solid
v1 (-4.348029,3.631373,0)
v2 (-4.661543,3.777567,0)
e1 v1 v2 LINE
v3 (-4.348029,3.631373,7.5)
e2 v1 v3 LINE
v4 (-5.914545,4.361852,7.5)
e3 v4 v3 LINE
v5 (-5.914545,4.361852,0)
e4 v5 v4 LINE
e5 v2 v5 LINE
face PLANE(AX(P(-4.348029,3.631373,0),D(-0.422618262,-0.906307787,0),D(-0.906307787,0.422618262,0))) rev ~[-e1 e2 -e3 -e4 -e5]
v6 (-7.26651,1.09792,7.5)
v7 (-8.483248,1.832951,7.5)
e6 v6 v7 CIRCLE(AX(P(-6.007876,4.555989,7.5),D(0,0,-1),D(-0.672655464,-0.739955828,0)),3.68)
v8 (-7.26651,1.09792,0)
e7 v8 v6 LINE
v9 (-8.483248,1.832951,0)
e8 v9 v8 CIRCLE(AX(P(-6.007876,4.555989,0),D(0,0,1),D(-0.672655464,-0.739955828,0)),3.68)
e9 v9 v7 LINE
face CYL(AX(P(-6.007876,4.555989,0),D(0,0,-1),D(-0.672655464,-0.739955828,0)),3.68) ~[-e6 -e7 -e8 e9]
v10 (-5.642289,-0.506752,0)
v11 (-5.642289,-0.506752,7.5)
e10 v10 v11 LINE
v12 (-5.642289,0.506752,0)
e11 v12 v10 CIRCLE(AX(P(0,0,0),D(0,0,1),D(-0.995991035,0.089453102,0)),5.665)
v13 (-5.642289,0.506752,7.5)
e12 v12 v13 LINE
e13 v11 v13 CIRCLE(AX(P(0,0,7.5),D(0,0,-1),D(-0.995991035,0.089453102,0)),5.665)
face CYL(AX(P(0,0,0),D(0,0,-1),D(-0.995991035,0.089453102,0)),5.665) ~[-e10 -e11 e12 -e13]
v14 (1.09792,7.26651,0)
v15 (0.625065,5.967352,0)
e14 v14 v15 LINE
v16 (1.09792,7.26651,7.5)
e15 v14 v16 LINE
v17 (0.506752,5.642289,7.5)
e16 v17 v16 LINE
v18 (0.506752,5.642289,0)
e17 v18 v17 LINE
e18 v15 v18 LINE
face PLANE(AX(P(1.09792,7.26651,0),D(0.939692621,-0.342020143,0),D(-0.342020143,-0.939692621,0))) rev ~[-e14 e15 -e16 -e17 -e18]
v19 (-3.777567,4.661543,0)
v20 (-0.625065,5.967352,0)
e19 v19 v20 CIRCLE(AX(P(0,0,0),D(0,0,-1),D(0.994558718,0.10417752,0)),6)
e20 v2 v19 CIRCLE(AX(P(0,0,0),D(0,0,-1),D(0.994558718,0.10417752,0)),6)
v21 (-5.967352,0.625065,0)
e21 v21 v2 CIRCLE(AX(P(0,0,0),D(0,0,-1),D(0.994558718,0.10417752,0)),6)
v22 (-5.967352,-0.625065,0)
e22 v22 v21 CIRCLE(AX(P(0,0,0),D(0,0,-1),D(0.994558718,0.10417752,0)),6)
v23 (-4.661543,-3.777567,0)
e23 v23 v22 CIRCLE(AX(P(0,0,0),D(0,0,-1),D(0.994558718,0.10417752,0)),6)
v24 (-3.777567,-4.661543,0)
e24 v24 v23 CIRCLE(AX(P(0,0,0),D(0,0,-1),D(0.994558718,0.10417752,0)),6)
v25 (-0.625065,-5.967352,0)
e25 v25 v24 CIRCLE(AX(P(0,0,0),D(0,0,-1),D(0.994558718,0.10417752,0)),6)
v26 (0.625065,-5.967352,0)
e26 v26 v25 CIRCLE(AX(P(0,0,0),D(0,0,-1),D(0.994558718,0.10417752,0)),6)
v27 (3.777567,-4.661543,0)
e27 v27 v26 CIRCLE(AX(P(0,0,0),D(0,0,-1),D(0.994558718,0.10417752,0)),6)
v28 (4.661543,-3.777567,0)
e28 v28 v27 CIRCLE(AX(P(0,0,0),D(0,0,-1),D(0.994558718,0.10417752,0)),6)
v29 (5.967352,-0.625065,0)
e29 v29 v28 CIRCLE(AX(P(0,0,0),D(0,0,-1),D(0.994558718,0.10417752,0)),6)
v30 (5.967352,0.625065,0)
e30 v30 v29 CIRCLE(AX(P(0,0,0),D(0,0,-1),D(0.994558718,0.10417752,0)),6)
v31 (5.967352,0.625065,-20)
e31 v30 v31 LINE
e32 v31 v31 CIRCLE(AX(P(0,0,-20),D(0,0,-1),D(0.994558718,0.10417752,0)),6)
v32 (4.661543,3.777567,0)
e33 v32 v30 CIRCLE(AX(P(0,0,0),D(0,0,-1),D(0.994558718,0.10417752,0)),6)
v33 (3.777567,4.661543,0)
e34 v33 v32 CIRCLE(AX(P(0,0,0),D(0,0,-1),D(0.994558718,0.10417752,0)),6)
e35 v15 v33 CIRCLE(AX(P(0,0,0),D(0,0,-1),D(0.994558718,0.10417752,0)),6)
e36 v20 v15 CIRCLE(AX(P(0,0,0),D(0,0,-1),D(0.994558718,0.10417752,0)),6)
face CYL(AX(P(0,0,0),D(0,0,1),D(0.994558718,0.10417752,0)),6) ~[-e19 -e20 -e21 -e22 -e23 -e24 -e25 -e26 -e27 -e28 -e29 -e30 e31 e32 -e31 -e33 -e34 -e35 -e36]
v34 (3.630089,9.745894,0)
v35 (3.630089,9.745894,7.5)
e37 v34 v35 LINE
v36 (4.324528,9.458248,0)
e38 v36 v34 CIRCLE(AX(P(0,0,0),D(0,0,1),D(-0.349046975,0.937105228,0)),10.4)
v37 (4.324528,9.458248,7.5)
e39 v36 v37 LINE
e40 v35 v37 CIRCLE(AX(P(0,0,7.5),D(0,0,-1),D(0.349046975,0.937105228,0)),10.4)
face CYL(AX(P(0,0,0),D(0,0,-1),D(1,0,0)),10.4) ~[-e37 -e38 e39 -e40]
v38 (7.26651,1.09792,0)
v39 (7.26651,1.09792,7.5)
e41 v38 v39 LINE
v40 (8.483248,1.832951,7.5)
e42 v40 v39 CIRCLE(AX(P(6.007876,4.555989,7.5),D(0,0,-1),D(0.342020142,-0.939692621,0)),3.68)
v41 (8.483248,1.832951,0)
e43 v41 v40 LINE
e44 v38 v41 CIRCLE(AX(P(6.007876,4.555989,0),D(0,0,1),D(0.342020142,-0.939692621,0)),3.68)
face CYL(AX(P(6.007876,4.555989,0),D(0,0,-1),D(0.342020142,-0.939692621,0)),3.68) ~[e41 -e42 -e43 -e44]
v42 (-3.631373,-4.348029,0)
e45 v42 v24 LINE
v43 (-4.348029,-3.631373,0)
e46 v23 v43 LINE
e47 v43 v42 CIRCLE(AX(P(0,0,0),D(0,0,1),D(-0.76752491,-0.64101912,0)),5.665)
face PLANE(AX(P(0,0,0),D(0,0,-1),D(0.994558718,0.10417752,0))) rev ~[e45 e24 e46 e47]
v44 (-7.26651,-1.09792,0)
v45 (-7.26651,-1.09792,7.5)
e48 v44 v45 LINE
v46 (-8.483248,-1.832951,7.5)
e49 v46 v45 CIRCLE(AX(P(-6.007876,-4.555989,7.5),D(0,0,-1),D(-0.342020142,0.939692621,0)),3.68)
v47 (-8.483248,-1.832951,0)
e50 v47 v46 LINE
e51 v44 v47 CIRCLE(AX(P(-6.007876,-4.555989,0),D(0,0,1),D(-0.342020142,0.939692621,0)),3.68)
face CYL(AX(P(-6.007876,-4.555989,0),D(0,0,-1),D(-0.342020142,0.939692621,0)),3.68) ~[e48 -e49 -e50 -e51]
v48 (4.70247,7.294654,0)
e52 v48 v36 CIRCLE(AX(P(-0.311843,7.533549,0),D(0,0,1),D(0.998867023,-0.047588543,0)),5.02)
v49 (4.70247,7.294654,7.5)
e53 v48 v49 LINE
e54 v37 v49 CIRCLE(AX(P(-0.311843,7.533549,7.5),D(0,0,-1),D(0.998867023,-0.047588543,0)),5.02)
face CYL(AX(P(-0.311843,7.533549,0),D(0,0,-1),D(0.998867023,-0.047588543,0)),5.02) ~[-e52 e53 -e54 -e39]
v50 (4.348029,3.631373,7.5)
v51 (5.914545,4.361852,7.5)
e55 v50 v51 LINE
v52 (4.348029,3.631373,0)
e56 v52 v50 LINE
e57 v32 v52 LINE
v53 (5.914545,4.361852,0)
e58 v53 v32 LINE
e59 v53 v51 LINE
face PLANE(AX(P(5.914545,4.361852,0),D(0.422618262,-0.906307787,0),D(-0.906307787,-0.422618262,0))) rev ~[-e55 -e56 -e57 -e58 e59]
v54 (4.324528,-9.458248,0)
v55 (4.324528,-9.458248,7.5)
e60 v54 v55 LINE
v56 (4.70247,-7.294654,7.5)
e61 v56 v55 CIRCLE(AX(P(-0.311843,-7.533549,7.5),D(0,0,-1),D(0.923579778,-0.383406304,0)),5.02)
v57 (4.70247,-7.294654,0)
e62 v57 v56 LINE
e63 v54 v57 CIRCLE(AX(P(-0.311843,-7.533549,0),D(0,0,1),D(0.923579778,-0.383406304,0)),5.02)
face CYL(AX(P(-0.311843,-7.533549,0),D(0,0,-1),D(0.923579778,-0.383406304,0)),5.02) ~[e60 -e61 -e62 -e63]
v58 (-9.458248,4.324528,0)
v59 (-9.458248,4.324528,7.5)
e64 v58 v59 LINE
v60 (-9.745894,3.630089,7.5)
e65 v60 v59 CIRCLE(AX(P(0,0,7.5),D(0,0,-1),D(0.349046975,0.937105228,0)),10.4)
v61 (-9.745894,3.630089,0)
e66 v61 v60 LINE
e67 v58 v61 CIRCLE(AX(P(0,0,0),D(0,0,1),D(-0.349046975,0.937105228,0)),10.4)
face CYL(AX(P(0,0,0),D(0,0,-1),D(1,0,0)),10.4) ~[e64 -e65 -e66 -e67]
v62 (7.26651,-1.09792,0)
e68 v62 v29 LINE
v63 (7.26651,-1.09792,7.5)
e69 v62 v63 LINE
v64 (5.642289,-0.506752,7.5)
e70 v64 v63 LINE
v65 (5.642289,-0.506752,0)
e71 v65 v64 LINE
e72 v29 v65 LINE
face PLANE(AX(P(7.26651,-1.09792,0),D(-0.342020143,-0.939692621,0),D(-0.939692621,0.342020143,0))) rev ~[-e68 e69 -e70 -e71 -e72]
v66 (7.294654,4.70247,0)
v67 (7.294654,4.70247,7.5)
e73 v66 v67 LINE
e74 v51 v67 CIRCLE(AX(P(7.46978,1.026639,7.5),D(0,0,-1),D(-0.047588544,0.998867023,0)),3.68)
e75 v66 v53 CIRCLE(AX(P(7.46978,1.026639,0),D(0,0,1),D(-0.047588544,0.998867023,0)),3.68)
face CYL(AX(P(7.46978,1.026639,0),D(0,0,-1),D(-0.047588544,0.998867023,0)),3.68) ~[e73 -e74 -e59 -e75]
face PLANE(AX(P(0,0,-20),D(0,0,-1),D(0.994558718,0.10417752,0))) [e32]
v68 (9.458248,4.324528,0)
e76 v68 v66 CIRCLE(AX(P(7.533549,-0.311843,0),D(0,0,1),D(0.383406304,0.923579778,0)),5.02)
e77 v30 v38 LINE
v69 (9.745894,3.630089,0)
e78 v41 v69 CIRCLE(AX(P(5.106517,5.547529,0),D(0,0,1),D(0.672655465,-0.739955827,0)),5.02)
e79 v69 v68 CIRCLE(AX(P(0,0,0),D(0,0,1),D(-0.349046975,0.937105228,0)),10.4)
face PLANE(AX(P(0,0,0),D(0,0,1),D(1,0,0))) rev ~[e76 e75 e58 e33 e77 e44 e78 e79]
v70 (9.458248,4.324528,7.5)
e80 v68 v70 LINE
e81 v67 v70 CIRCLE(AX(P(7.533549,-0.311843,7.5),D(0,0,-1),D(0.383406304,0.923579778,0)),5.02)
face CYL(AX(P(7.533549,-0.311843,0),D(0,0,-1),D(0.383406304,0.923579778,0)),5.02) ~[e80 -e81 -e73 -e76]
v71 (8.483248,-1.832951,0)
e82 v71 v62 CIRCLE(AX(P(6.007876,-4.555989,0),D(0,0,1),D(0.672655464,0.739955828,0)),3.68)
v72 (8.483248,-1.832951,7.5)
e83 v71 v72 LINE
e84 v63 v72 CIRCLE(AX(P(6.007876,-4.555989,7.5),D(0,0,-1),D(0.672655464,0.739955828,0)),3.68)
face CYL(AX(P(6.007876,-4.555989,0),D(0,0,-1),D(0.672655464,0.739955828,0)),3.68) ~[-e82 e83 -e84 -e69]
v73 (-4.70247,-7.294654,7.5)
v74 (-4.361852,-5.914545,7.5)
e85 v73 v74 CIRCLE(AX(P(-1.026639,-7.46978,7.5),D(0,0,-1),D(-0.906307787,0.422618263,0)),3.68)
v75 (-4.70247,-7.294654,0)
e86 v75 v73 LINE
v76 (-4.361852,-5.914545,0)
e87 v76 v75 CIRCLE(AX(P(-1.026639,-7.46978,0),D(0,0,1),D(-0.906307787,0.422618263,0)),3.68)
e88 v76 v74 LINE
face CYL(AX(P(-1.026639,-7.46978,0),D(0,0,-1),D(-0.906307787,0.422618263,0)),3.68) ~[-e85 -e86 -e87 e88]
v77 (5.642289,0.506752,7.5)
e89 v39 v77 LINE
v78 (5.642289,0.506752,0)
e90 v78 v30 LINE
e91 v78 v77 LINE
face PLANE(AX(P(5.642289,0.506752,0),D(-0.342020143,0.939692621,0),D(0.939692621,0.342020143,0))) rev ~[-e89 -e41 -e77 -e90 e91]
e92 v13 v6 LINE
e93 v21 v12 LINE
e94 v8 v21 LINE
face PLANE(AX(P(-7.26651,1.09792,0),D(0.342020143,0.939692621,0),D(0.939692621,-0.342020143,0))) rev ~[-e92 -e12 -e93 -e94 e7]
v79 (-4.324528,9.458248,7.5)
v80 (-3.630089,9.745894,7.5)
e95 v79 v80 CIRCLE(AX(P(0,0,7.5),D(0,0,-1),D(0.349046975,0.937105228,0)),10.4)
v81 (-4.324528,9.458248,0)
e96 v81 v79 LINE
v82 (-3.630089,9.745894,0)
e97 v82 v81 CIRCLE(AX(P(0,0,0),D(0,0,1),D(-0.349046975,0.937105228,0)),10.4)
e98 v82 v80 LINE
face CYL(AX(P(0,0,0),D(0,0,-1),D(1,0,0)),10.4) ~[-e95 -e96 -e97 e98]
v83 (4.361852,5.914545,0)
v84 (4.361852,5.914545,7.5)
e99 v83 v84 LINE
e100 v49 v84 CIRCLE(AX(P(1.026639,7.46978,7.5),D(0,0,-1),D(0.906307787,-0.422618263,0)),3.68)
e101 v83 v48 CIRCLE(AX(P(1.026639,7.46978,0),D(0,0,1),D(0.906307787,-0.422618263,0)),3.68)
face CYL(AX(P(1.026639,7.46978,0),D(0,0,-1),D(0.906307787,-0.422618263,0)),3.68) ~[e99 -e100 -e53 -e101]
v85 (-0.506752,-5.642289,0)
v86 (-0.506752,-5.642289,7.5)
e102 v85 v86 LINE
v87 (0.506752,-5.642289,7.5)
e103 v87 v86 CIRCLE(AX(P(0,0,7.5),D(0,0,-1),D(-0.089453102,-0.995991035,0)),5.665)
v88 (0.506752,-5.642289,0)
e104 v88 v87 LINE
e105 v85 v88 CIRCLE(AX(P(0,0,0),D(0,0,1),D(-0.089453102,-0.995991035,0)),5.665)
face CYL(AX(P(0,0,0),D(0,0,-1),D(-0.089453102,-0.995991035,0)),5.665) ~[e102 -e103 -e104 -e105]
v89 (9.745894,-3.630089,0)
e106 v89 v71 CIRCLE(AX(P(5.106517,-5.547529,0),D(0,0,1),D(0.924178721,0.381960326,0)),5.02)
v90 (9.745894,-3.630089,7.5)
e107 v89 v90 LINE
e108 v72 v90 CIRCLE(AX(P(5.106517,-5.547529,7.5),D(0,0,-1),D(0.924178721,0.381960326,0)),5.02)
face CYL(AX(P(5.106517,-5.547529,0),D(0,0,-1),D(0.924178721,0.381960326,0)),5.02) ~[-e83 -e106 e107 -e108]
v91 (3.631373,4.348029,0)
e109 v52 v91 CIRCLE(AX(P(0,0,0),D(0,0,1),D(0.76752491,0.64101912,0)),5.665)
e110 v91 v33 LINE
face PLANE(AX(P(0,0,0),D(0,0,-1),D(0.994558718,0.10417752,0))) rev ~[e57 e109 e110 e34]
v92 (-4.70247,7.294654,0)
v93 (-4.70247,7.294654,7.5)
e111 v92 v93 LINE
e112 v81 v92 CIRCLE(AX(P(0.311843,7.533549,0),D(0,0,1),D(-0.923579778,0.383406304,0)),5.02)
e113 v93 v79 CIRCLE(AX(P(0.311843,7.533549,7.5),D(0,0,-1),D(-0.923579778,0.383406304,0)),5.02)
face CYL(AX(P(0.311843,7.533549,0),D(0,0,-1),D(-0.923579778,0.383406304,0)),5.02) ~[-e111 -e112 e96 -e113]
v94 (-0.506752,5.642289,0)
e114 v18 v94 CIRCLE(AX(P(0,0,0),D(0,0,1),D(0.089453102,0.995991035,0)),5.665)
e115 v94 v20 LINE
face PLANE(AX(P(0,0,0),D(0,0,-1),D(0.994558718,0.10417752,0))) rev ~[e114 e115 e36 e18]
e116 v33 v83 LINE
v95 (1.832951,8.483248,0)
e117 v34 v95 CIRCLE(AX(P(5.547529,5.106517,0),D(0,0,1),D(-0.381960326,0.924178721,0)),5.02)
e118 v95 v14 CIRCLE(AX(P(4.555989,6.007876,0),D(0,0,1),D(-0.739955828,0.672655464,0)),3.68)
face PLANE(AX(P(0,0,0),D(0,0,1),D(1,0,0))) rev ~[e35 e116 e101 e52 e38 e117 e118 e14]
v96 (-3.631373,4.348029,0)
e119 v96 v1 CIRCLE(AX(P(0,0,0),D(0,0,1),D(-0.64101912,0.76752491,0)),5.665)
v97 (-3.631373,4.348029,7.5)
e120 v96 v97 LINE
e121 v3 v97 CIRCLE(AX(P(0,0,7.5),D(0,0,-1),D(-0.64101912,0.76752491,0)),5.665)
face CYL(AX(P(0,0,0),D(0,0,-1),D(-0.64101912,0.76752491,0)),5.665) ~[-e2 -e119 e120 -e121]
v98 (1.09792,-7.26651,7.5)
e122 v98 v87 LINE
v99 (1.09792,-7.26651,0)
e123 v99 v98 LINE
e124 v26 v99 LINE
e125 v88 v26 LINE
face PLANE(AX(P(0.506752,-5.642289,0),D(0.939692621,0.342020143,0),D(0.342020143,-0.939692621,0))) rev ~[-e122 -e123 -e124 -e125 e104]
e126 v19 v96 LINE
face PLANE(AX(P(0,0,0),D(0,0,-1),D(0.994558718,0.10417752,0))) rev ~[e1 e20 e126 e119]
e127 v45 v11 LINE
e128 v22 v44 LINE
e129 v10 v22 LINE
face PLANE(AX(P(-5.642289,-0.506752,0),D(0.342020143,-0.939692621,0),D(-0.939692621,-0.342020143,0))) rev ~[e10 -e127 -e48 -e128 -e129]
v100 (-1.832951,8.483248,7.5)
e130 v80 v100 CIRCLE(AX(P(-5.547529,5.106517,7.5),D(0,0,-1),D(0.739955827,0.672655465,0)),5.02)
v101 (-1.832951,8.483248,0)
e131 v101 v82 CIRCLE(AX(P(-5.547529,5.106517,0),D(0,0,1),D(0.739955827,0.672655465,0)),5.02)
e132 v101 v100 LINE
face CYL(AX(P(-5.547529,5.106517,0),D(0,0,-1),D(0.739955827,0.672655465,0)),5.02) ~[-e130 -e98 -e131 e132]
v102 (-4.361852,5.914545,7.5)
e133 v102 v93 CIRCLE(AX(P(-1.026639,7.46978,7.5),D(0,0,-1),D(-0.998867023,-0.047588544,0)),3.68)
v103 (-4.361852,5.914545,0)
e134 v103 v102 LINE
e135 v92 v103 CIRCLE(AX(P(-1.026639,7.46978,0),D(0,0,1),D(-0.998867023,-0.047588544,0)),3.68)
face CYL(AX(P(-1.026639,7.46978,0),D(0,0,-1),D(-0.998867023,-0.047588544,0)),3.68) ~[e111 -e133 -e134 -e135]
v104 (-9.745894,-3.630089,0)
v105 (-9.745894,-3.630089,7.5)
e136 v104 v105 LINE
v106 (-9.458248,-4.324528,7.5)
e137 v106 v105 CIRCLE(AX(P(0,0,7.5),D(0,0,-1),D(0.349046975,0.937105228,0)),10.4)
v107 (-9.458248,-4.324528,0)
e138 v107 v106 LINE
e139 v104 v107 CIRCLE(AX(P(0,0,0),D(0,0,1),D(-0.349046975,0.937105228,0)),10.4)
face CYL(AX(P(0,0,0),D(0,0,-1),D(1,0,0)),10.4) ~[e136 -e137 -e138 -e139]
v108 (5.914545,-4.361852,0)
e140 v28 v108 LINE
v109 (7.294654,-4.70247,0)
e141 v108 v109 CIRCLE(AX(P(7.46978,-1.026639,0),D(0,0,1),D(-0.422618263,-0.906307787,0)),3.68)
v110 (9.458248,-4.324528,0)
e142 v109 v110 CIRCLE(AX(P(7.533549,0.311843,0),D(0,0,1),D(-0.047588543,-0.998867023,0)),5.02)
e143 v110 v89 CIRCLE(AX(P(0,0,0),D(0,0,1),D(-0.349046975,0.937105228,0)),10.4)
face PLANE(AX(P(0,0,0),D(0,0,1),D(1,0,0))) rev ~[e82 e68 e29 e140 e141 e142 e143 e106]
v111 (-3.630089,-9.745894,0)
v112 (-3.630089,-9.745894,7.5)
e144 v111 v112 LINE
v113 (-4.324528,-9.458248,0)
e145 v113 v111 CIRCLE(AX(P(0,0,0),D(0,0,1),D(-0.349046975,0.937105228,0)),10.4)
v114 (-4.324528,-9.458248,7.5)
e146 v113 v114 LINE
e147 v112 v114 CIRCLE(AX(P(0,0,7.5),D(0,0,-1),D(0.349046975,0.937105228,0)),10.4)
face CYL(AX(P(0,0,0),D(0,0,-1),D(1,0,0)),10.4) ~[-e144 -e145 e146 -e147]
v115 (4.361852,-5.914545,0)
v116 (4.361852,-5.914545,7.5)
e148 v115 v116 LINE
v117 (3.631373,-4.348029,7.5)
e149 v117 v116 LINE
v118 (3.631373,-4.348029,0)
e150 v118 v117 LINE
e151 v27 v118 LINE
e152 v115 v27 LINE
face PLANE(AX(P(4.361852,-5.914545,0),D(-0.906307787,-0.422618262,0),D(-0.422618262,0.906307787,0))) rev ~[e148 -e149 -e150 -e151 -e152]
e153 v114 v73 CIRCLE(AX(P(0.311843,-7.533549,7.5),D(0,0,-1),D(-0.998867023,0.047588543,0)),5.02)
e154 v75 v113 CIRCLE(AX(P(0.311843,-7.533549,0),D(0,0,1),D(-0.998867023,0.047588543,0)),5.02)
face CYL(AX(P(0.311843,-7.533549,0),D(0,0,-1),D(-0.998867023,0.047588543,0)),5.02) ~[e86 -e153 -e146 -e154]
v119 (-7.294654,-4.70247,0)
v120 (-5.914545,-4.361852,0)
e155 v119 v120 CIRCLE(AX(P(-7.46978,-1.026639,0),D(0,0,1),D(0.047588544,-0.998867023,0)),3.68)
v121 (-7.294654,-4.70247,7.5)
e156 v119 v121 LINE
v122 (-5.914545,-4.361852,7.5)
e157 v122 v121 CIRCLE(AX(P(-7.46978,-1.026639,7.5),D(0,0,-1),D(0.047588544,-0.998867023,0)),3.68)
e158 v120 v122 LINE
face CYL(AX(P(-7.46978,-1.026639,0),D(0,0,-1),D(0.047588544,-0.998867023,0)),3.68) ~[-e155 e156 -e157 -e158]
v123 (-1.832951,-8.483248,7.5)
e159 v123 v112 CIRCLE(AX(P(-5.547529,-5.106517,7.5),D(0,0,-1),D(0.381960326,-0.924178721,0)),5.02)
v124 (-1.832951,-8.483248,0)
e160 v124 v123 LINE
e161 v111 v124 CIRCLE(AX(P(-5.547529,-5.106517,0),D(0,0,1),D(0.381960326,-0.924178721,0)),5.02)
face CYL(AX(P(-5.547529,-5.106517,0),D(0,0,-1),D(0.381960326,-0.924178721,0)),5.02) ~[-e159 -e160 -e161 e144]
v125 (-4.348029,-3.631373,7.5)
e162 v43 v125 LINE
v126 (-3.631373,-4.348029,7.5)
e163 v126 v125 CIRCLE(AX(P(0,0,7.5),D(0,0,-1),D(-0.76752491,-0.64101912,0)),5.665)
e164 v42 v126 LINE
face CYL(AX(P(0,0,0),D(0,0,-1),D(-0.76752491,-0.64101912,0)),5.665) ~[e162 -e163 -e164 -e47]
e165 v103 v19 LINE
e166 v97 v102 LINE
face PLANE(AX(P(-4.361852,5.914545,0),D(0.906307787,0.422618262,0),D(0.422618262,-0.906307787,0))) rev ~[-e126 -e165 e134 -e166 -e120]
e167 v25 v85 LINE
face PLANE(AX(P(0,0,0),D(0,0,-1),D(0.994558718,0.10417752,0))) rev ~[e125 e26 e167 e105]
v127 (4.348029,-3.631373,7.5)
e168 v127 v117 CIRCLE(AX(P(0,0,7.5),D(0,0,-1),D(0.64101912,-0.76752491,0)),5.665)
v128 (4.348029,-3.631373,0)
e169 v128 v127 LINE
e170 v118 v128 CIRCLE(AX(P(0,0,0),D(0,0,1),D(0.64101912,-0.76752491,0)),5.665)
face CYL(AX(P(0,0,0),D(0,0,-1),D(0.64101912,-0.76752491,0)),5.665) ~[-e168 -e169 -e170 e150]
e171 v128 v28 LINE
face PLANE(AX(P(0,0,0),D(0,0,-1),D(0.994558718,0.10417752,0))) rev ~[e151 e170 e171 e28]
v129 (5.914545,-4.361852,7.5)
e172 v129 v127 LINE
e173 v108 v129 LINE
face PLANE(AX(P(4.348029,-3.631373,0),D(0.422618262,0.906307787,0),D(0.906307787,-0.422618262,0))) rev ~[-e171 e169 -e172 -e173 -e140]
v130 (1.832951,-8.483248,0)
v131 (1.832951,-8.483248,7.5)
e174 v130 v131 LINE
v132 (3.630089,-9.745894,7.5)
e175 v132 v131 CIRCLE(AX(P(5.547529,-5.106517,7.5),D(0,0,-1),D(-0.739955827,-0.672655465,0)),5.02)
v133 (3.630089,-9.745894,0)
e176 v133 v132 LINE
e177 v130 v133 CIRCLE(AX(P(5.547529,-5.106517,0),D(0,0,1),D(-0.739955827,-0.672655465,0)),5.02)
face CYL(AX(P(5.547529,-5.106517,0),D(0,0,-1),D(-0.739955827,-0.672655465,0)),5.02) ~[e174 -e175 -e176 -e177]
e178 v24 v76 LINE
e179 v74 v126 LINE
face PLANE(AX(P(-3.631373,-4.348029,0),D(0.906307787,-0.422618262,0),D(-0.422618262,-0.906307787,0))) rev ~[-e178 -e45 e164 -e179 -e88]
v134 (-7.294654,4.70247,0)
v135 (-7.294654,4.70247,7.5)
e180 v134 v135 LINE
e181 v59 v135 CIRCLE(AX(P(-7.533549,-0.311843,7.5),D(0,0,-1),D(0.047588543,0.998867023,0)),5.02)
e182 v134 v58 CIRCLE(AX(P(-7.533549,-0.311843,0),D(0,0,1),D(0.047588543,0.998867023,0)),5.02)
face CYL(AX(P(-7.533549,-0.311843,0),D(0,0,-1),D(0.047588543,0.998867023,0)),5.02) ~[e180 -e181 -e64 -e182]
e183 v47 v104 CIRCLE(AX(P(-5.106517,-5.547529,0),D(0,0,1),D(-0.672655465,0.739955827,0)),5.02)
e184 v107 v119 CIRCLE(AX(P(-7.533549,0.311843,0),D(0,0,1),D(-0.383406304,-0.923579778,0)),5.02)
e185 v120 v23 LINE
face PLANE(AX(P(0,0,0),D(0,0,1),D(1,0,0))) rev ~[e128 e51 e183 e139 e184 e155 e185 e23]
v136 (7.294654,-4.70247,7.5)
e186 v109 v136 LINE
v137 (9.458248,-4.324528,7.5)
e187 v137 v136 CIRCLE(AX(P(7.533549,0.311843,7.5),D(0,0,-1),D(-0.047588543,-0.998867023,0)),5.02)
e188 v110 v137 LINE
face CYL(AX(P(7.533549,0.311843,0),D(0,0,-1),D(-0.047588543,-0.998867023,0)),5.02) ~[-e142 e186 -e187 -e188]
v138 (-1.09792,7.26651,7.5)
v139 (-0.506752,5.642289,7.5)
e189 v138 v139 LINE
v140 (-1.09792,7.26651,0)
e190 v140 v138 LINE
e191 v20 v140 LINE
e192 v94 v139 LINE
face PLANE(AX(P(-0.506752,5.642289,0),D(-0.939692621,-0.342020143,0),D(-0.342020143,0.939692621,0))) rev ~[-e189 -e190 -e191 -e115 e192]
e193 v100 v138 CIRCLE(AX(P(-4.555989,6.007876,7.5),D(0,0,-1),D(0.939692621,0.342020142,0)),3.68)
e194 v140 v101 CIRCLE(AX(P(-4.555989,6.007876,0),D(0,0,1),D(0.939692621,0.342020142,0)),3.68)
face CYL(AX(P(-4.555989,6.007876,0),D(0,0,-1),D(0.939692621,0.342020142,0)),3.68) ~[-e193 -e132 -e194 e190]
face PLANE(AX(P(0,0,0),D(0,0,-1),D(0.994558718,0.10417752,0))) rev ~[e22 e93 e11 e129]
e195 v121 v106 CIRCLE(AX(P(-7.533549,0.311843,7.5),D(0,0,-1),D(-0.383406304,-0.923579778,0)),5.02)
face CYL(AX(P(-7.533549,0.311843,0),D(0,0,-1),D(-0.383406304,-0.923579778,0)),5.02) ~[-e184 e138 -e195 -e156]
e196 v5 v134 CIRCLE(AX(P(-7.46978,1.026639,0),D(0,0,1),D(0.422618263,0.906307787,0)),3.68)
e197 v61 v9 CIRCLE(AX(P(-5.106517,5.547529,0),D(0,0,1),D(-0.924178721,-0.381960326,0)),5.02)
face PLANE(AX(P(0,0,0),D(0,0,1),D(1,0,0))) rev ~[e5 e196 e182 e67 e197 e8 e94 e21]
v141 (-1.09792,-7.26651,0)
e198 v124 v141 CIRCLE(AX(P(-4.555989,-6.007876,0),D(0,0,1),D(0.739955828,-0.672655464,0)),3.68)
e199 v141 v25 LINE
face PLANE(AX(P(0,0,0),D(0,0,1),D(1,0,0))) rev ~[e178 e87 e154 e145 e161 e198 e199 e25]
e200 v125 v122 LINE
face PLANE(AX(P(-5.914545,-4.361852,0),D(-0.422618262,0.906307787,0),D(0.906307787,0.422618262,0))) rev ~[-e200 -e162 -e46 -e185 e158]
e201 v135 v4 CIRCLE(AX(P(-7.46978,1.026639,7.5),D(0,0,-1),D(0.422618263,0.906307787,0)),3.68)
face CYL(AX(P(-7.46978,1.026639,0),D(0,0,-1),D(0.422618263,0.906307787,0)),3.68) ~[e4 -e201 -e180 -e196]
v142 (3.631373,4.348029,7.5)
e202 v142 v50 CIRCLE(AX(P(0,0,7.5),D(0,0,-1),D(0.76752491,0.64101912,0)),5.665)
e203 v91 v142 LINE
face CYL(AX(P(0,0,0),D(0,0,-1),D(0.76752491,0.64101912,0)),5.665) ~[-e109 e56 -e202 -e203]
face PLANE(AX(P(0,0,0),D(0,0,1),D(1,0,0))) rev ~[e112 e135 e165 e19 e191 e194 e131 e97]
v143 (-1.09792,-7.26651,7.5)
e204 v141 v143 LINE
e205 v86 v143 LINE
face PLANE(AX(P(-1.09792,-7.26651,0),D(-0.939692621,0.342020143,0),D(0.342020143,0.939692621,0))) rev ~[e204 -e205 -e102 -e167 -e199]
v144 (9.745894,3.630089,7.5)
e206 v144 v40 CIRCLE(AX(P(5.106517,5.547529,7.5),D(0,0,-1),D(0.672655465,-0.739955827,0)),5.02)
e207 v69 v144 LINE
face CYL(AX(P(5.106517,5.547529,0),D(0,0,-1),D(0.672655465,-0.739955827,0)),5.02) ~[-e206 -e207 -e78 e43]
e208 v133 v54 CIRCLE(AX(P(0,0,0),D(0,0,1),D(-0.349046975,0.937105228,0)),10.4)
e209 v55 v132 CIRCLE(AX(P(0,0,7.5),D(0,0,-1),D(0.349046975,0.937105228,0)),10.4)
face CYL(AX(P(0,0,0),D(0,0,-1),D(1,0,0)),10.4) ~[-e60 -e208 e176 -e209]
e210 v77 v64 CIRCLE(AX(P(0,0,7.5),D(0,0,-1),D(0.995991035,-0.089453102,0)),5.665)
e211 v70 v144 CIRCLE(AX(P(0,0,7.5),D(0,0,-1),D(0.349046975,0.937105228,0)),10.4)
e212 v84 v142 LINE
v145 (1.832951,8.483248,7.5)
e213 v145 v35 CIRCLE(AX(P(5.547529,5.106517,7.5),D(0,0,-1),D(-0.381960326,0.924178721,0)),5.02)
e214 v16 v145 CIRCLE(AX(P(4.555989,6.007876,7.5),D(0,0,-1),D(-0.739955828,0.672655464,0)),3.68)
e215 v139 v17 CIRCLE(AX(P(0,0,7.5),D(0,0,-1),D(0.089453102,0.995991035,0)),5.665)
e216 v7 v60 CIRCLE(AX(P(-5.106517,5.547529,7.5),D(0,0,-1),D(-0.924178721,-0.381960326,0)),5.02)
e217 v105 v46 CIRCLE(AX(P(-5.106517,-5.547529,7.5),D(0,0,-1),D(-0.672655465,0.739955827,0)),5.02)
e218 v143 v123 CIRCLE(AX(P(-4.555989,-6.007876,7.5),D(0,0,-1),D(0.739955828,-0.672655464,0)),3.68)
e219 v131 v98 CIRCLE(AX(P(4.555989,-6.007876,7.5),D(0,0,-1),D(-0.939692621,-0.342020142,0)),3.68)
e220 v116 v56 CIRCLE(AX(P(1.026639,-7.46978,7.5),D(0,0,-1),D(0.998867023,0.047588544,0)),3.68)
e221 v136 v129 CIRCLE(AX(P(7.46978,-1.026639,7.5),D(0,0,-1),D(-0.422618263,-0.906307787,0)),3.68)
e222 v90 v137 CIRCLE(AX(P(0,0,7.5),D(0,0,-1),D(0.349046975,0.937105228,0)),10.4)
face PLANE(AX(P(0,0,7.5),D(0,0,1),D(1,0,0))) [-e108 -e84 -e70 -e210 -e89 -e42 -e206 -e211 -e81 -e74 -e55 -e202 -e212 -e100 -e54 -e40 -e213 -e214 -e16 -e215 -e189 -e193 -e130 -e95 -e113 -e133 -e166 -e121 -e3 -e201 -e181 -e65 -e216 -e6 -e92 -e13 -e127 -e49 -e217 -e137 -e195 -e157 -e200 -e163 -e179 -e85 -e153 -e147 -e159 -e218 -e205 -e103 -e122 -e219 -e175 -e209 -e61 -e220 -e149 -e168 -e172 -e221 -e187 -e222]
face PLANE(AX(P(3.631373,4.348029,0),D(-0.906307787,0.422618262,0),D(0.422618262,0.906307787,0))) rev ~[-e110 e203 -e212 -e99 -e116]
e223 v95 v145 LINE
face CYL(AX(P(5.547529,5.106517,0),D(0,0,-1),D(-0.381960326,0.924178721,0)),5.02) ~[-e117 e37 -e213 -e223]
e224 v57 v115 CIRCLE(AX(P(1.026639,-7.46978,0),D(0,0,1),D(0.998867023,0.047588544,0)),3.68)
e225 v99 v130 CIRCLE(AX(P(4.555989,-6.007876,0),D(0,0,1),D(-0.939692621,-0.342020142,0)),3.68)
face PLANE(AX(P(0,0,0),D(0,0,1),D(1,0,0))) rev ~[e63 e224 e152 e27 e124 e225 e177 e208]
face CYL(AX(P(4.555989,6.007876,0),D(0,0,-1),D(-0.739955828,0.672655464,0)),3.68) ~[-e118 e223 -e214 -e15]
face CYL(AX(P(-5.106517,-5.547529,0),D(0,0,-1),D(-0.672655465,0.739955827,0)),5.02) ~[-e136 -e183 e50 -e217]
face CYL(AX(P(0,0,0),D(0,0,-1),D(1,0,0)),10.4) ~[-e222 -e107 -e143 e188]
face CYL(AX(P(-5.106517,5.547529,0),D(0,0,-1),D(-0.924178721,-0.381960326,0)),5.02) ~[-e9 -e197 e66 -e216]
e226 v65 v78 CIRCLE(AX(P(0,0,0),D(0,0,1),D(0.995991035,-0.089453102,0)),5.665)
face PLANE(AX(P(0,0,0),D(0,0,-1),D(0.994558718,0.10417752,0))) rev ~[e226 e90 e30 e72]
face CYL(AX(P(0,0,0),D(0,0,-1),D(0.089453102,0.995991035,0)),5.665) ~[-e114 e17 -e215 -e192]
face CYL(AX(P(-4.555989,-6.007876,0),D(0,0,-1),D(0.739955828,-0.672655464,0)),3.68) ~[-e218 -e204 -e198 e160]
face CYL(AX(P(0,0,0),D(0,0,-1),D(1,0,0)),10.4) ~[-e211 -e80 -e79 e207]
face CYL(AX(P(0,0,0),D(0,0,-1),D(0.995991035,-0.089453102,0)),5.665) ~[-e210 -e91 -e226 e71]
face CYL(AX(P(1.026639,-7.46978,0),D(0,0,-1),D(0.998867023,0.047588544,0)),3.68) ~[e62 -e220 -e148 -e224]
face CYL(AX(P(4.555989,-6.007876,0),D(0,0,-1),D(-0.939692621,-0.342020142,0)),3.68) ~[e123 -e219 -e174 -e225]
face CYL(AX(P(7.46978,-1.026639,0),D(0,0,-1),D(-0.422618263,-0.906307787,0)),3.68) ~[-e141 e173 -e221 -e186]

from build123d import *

# Parameters (mm, degrees)
ESBO_O2_R                = 10.4
RESSALTO_EXTRUS_O1_DEPTH = 7.5
CORTE_EXTRUS_O1_DEPTH    = 17.509694122
PADR_OCIRCULAR2_COUNT    = 8
ESBO_O3_R                = 6
RESSALTO_EXTRUS_O2_DEPTH = 20


with BuildPart() as part:
    # Esboço2 → Ressalto-extrusão1 (new body)
    with BuildSketch(Plane.XY):
        Circle(ESBO_O2_R)
    extrude(amount=RESSALTO_EXTRUS_O1_DEPTH)

    # Esboço1 → Corte-extrusão1 (cut, through all)
    with BuildSketch(Plane.XY):
        with BuildLine():
            Line((-0.506751832, 5.642289215), (-1.097919721, 7.266509641))
            ThreePointArc((-1.097919721, 7.266509641), (-1.406126414, 7.910707201), (-1.832951119, 8.483247621))
            ThreePointArc((-1.832951119, 8.483247621), (-2.661618953, 9.214061597), (-3.630088541, 9.745894376))
            ThreePointArc((-3.630088541, 9.745894376), (0, 10.4), (3.630088541, 9.745894376))
            ThreePointArc((3.630088541, 9.745894376), (2.661618953, 9.214061597), (1.832951119, 8.483247621))
            ThreePointArc((1.832951119, 8.483247621), (1.406126414, 7.910707201), (1.097919721, 7.266509641))
            Line((1.097919721, 7.266509641), (0.506751832, 5.642289215))
            ThreePointArc((0.506751832, 5.642289215), (0, 5.665), (-0.506751832, 5.642289215))
        make_face()
    corte_extrus_o1 = extrude(amount=CORTE_EXTRUS_O1_DEPTH, mode=Mode.SUBTRACT)

    # PadrãoCircular2: Corte-extrusão1 ×8 about axis
    padr_ocircular2_axis = Axis((0, 0, 0), (0, 0, 1))
    for i in range(1, PADR_OCIRCULAR2_COUNT):
        add(corte_extrus_o1.rotate(padr_ocircular2_axis, i * 360 / PADR_OCIRCULAR2_COUNT), mode=Mode.SUBTRACT)

    # Esboço3 → Ressalto-extrusão2 (add)
    with BuildSketch(Plane(origin=(0, 0, 0), x_dir=(-1, 0, 0), z_dir=(0, 0, -1))):
        with Locations(Location((0, 0, 0), (0, 0, 174.020217927))):
            Circle(ESBO_O3_R)
    extrude(amount=RESSALTO_EXTRUS_O2_DEPTH)


solid = part.part
